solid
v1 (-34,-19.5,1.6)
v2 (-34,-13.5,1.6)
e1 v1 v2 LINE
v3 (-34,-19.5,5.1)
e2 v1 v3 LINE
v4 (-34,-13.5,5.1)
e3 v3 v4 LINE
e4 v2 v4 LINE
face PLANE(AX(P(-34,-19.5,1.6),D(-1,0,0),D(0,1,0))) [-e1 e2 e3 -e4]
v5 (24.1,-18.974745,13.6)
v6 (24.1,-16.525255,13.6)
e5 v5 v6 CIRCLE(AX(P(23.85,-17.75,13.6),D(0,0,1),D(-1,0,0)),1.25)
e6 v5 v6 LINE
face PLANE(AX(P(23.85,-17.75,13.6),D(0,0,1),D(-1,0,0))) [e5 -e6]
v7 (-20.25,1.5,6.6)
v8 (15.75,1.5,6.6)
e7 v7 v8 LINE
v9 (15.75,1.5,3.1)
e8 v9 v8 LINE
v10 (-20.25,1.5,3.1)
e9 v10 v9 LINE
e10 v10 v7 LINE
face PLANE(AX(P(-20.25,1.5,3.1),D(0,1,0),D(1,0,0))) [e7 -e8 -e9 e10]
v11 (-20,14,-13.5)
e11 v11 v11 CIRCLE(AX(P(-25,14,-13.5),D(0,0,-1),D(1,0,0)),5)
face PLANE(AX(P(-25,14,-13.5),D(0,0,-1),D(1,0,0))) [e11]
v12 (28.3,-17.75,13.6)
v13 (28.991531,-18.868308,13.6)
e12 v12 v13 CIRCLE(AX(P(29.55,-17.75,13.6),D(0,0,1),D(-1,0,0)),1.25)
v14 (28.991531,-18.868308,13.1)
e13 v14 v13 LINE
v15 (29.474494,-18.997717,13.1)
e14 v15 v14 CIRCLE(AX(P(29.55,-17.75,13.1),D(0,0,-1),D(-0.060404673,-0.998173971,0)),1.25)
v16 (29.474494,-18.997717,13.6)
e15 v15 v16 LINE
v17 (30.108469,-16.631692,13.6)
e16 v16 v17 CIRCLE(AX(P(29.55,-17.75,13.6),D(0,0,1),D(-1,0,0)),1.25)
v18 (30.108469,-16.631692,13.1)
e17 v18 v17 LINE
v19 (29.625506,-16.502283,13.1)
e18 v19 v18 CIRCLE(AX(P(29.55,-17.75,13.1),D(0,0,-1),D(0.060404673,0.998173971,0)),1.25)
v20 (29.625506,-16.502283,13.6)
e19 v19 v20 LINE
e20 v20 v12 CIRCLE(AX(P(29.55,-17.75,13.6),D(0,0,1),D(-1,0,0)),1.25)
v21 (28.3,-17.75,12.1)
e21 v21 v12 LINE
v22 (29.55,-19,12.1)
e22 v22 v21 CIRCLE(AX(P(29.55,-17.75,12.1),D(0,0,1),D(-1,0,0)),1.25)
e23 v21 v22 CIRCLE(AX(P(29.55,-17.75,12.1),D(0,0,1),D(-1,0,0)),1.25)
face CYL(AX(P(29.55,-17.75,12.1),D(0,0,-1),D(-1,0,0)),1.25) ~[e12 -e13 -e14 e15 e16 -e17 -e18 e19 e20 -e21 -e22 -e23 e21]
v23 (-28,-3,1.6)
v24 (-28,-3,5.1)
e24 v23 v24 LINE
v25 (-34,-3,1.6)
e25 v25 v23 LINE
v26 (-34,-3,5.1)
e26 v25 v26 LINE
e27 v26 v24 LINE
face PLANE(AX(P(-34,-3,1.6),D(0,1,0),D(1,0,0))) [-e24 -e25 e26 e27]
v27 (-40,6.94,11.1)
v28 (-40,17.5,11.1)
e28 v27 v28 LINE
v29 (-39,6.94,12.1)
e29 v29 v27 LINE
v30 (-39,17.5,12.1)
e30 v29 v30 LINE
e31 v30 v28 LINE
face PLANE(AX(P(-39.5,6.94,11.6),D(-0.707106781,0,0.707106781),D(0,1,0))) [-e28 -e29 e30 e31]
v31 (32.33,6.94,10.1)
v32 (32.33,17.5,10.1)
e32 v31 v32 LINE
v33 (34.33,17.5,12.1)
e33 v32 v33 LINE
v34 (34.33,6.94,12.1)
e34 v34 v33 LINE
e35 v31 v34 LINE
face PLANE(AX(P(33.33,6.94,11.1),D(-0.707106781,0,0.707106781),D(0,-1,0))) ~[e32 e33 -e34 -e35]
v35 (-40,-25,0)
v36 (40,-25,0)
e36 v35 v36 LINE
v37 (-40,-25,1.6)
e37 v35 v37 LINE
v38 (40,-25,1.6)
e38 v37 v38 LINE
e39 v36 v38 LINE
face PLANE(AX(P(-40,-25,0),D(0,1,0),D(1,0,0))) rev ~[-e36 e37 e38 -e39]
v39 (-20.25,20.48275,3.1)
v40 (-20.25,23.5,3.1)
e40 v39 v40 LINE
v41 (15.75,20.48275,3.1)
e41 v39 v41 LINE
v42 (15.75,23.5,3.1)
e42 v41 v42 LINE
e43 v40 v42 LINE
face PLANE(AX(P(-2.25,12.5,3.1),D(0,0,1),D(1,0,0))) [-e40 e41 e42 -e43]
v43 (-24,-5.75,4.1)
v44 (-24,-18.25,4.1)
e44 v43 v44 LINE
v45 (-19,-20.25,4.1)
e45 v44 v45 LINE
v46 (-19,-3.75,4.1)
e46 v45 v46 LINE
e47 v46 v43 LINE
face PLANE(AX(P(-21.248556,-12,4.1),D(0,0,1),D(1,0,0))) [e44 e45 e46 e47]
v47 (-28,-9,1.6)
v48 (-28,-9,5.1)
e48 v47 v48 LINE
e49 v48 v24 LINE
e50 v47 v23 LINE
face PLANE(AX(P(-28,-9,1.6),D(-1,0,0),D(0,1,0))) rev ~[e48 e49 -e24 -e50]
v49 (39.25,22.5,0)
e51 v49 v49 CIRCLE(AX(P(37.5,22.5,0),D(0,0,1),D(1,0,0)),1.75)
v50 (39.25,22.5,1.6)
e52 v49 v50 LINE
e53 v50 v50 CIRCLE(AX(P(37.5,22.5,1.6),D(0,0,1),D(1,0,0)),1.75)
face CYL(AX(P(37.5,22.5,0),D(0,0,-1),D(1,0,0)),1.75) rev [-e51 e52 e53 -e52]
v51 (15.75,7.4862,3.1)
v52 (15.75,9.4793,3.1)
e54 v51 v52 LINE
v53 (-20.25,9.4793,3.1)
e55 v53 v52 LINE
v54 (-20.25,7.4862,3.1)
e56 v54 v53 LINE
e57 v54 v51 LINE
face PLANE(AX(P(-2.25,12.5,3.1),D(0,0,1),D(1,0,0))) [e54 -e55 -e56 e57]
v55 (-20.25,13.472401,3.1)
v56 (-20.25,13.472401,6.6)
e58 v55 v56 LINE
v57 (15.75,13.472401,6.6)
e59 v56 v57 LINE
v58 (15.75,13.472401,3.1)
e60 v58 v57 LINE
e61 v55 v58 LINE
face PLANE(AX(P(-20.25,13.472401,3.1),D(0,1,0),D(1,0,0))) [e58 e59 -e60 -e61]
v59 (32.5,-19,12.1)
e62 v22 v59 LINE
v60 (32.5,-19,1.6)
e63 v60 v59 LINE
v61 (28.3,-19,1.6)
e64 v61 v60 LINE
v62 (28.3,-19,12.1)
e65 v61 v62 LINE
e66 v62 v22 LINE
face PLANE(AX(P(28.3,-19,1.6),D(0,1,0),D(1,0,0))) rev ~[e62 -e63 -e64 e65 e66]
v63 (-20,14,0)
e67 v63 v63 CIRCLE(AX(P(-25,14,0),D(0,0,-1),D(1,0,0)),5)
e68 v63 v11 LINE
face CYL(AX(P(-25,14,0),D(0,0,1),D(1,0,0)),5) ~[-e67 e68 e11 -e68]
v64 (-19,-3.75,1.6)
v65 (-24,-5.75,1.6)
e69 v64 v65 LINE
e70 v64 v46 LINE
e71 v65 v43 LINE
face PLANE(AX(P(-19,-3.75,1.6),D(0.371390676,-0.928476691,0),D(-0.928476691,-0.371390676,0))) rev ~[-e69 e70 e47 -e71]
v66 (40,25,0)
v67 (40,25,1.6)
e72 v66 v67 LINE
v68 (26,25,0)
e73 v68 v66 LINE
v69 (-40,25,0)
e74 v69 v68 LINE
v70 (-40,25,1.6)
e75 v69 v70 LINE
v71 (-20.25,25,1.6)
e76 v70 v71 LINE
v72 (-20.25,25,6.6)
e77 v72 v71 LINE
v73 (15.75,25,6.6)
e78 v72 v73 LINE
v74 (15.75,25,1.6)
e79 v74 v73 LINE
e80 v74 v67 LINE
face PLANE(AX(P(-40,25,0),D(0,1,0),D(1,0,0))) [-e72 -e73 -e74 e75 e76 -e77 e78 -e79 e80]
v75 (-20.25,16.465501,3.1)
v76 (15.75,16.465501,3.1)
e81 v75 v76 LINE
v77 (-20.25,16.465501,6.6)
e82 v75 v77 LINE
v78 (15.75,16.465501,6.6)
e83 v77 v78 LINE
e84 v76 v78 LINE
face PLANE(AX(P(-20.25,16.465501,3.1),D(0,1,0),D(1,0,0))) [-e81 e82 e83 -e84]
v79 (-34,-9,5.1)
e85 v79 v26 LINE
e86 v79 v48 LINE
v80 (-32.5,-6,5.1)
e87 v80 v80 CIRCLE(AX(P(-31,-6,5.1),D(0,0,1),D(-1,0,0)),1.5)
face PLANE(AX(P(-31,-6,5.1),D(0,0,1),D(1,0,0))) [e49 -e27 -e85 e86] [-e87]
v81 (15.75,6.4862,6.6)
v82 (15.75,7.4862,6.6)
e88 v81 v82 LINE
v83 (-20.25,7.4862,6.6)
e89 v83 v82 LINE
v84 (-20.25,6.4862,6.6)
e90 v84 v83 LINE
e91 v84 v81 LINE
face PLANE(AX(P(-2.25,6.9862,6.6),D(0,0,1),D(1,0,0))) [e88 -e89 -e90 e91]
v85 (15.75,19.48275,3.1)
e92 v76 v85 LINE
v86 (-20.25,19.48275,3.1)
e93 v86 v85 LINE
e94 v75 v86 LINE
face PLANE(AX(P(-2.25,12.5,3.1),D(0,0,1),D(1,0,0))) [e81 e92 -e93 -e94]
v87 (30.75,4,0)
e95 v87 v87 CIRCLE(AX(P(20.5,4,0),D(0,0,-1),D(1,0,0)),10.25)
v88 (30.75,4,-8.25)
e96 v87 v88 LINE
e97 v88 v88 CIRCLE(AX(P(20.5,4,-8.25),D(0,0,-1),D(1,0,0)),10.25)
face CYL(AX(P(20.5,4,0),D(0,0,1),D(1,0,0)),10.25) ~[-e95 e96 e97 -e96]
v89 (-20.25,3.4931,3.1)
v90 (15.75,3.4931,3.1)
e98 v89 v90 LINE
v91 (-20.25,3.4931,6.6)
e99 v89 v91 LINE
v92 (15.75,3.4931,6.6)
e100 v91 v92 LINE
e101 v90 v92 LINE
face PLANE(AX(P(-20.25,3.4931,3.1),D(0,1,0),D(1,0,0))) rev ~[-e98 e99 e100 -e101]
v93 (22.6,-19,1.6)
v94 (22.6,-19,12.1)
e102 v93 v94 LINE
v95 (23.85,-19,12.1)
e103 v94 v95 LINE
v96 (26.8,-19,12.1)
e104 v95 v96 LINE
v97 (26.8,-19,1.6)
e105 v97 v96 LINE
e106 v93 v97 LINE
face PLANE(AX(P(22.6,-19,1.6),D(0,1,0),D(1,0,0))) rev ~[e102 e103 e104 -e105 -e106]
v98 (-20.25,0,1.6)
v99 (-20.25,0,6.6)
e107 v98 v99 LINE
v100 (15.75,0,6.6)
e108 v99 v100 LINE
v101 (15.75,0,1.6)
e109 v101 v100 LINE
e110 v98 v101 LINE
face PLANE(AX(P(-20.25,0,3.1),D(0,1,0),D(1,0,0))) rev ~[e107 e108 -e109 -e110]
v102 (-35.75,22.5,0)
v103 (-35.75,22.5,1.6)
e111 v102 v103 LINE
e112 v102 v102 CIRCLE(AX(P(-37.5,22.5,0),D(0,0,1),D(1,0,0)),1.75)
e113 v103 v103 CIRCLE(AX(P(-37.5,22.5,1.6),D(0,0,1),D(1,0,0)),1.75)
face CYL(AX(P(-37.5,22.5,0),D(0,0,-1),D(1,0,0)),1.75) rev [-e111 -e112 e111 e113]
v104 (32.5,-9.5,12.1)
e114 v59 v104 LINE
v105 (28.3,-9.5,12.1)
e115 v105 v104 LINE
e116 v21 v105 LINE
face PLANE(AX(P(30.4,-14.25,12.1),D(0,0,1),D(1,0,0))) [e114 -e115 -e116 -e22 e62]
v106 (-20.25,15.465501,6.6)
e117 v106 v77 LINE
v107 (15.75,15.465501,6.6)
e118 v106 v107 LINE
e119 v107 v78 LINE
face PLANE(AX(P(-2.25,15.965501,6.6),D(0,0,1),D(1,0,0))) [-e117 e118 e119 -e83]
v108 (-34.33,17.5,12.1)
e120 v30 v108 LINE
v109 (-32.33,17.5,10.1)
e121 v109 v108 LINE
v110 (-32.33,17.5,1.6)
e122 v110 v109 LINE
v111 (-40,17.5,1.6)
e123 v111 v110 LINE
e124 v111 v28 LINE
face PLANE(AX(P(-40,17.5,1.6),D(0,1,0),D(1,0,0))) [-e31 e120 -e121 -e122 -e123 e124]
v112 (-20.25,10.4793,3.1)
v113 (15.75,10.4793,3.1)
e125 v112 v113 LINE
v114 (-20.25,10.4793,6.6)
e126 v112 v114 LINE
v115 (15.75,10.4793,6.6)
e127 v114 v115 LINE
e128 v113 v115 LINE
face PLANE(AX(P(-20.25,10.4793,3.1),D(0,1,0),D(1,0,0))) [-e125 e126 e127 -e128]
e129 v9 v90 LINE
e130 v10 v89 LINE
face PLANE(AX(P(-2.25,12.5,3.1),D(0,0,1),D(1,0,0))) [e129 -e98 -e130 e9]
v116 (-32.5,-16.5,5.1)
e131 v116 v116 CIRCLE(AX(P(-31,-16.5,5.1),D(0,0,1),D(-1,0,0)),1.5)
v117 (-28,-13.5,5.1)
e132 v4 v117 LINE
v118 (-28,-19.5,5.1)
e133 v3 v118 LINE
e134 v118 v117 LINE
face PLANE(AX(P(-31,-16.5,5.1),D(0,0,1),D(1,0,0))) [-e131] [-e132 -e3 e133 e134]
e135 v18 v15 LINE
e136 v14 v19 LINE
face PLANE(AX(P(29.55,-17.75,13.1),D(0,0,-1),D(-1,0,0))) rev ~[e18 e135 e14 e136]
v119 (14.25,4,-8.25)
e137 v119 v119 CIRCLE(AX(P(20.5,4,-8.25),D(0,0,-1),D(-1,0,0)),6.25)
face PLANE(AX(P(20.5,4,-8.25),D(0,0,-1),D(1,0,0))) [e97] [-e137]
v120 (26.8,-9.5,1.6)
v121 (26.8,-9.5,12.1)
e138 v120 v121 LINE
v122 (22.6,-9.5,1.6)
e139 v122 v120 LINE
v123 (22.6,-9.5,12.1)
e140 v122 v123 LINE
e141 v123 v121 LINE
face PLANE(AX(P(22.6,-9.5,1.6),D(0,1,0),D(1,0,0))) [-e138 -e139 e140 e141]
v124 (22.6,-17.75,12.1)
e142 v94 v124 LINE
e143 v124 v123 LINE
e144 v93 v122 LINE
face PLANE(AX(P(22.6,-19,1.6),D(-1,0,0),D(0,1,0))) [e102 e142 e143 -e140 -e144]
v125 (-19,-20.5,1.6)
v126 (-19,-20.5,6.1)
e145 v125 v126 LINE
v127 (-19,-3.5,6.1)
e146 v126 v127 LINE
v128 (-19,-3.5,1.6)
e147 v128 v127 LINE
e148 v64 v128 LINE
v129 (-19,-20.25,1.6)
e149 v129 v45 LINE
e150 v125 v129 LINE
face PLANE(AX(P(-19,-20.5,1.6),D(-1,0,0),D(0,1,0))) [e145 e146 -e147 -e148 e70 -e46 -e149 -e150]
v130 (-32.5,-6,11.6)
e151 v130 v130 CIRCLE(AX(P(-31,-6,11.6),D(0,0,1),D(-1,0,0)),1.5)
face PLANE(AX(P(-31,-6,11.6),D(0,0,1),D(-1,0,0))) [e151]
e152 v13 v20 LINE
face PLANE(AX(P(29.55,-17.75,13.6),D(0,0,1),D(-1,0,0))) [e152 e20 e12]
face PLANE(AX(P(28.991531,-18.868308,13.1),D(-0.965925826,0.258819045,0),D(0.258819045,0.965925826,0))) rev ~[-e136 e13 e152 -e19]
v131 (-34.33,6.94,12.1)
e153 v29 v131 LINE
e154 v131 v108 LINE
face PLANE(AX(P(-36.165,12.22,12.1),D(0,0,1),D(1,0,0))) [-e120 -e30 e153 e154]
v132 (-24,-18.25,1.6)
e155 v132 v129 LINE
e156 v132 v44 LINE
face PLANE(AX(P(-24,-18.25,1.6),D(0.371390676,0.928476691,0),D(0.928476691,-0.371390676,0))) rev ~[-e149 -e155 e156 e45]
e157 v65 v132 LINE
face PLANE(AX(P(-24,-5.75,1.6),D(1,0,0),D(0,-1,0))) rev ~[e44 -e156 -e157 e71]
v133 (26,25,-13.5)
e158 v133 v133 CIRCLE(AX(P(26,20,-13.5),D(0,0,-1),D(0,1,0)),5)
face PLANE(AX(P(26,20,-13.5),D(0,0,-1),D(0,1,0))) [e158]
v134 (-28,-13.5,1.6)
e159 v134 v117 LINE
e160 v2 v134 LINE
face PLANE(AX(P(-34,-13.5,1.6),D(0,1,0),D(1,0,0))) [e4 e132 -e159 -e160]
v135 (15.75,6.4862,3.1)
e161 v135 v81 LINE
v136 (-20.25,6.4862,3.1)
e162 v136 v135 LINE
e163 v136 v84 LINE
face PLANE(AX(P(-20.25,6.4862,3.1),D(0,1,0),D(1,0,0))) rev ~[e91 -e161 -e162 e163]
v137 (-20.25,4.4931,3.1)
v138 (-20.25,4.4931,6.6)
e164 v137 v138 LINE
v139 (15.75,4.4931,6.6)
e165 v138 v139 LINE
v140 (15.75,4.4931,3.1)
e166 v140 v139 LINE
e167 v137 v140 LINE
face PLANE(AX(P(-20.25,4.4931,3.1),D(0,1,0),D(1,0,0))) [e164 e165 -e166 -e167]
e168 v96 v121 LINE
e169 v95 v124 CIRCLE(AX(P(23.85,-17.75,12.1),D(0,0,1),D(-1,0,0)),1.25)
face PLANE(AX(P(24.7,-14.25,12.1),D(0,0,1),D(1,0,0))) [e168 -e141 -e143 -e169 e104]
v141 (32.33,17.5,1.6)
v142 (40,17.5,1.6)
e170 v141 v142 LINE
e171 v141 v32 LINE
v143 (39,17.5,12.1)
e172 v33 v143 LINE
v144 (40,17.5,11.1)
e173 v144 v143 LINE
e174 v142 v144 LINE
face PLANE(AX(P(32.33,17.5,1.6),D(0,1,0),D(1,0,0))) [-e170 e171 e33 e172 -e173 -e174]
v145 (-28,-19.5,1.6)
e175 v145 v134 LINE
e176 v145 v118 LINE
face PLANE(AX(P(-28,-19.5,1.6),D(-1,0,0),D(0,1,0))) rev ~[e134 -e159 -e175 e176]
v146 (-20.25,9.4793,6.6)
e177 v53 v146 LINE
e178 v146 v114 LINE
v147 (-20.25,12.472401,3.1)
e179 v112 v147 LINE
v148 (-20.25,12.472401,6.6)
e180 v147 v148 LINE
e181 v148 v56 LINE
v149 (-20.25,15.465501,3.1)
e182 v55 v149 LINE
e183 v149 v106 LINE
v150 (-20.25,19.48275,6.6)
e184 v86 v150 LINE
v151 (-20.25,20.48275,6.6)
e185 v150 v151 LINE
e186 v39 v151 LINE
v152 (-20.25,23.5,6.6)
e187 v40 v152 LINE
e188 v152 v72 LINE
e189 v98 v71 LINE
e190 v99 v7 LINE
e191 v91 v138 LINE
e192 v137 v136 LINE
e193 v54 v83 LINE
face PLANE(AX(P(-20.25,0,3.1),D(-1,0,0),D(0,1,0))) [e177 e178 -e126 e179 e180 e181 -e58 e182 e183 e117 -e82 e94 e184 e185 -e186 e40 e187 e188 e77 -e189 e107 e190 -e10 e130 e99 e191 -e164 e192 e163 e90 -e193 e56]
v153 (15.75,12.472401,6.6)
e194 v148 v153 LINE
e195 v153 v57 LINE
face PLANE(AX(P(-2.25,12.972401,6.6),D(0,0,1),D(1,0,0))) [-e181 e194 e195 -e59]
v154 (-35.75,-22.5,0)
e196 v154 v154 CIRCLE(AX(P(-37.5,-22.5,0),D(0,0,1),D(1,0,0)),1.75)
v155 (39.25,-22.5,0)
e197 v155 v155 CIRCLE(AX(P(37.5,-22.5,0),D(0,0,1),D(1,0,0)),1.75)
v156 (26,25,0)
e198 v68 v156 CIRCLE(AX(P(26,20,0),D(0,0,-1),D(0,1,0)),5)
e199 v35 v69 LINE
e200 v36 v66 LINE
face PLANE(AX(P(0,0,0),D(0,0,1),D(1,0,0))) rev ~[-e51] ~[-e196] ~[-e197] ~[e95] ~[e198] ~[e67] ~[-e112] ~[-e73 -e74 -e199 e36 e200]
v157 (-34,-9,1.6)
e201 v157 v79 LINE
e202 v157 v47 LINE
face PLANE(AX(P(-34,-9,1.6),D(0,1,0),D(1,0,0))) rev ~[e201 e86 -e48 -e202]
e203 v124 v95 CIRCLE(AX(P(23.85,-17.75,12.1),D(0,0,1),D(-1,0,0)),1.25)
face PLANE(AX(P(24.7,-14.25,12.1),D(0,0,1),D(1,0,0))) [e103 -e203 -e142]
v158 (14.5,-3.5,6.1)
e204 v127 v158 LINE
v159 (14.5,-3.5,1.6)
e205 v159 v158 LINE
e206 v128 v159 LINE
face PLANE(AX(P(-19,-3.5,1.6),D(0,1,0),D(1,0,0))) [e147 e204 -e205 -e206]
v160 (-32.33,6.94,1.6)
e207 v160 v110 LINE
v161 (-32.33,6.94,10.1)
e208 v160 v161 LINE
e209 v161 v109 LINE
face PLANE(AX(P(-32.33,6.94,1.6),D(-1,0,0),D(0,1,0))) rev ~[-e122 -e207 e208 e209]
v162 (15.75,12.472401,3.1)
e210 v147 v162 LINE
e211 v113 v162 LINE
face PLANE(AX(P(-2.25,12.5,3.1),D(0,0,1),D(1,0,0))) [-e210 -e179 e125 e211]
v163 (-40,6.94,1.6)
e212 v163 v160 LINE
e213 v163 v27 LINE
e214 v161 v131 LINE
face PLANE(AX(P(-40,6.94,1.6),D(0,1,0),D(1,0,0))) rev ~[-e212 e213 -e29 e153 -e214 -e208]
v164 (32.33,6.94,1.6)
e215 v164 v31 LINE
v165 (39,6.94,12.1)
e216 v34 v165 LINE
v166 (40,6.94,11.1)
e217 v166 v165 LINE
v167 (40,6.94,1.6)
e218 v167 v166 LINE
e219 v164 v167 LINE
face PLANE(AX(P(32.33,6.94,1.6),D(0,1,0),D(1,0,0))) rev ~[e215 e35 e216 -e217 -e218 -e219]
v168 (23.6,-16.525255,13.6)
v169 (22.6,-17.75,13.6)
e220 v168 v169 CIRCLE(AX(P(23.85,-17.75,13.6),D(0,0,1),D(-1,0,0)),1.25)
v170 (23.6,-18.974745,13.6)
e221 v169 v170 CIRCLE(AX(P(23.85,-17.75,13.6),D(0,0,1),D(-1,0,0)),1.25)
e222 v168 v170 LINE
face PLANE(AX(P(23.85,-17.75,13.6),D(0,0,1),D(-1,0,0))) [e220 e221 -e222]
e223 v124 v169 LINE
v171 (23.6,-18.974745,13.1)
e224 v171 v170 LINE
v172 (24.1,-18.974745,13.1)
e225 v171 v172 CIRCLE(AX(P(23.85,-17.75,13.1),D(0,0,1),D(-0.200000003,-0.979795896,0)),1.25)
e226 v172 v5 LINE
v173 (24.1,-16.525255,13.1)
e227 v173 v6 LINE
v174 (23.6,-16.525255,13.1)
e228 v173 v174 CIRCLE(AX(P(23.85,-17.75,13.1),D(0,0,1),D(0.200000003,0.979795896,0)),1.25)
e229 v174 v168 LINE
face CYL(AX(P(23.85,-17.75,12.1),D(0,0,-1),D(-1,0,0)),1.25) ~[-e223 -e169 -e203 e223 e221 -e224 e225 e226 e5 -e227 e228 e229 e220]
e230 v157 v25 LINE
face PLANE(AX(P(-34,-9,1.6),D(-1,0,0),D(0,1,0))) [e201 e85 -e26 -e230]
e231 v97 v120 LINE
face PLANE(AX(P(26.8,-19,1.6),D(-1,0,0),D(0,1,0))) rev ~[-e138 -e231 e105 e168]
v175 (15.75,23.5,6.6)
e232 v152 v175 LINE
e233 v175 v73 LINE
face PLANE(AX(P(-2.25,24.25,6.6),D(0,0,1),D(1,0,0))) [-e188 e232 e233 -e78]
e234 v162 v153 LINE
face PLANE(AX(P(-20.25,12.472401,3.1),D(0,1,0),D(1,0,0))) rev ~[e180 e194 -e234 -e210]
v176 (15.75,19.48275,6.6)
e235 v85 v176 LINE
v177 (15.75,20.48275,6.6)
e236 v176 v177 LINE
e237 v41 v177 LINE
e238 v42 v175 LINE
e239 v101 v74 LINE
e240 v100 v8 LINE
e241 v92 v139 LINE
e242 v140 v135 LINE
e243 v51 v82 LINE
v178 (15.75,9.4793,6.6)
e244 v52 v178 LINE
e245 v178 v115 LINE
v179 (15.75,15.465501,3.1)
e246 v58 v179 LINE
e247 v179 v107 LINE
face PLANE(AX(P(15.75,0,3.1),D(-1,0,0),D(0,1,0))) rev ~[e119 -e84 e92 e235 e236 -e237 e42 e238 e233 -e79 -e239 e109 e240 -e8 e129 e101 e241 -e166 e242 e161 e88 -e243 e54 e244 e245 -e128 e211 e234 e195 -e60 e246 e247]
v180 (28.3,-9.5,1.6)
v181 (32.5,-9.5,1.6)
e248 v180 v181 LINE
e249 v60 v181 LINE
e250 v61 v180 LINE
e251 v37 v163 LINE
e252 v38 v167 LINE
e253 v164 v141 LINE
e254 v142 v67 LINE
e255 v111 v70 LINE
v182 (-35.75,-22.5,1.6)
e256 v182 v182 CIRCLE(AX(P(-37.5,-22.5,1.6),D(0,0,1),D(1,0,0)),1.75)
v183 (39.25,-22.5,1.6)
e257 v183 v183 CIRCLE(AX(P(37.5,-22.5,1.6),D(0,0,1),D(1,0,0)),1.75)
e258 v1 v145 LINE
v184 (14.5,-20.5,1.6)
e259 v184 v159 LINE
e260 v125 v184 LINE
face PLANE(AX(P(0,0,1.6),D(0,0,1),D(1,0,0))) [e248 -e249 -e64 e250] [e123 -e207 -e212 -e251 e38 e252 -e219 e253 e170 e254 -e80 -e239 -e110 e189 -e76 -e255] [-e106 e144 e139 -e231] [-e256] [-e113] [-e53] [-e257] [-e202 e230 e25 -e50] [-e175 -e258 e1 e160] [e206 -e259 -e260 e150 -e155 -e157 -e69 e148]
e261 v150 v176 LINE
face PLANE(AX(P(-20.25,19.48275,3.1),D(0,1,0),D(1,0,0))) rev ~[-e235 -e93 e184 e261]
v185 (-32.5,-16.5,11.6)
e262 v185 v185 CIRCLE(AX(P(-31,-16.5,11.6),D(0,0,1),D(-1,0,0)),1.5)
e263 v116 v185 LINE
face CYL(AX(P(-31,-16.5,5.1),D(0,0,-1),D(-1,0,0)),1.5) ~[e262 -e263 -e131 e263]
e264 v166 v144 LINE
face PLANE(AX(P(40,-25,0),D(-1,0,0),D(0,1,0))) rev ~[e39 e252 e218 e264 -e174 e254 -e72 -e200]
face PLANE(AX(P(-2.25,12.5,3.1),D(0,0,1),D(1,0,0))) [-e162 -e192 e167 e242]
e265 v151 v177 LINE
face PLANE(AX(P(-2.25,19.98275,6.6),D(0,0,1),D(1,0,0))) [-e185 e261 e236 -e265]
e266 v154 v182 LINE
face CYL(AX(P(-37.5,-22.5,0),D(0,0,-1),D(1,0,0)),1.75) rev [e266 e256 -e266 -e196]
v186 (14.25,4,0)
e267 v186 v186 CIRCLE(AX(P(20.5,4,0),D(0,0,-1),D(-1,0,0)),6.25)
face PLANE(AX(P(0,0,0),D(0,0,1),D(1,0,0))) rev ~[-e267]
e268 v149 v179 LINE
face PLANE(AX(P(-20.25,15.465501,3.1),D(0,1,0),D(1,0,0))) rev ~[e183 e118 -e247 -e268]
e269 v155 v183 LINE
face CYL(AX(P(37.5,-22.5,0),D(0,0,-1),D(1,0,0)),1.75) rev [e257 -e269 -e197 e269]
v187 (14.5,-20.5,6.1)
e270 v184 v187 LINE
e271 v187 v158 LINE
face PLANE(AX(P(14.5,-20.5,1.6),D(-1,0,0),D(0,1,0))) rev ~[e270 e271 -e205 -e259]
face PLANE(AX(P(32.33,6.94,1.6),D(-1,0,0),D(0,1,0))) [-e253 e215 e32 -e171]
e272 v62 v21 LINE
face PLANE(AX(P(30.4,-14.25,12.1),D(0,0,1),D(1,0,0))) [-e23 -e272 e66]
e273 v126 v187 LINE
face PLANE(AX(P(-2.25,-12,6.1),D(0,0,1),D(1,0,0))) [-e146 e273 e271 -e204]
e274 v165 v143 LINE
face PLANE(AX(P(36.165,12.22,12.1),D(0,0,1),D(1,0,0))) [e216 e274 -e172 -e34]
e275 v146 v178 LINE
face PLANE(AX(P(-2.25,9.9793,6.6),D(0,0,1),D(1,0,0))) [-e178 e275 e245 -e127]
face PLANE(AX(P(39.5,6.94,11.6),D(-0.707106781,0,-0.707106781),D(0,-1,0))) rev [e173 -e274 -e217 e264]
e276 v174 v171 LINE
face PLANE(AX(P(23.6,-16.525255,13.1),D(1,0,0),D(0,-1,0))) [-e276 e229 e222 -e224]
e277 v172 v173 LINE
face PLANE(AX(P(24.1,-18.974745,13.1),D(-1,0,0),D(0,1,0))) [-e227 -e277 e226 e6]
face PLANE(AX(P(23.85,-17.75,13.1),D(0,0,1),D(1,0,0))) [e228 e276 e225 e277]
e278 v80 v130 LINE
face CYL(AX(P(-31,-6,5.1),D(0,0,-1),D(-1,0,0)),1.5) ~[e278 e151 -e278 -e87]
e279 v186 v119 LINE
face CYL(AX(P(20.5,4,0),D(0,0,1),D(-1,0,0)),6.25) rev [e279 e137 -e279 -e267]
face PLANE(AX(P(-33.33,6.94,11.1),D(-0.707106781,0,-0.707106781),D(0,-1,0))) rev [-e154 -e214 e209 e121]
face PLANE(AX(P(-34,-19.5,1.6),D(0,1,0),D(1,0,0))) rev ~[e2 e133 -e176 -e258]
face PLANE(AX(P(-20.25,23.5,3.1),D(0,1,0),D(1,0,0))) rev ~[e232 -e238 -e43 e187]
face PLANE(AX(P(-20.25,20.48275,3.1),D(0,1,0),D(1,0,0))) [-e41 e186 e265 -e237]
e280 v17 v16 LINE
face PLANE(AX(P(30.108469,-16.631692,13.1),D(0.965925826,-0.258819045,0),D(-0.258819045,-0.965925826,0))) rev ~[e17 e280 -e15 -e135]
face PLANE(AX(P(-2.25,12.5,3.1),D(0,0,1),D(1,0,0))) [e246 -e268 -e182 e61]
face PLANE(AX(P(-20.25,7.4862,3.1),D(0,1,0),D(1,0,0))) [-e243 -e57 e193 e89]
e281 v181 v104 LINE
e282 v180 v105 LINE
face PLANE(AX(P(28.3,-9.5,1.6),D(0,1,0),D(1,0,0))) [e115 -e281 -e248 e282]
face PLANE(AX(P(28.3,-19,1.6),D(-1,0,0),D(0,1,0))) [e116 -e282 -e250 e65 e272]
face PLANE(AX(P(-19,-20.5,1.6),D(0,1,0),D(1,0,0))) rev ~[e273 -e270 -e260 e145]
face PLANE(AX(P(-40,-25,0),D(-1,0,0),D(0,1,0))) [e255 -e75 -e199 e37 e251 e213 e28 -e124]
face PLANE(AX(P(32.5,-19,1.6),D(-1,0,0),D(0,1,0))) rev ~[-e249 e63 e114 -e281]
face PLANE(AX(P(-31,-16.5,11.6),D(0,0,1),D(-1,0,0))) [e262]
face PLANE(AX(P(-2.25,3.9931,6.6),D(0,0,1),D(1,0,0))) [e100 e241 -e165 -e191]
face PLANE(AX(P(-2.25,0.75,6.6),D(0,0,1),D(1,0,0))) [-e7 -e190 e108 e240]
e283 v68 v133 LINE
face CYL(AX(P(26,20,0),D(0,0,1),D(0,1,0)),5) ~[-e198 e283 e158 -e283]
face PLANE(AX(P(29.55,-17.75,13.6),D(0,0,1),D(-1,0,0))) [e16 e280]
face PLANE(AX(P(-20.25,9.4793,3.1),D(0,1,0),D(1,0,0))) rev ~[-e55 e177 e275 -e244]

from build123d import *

# Parameters (mm, degrees)
SKETCH1_W            = 80
SKETCH1_H            = 50
SKETCH1_R            = 1.75
BOSS_EXTRUDE1_DEPTH  = 1.6
SKETCH2_W            = 4.2
SKETCH2_H            = 9.5
SKETCH2_W_2          = 7.67
SKETCH2_H_2          = 10.56
BOSS_EXTRUDE2_DEPTH  = 10.5
CHAMFER1_SIZE        = 2
CHAMFER2_SIZE        = 1
SKETCH3_R            = 1.25
BOSS_EXTRUDE3_DEPTH  = 1.5
CUT_EXTRUDE1_START   = -0.5
CUT_EXTRUDE1_DEPTH   = 0.5
SKETCH5_W            = 33.5
SKETCH5_H            = 17
BOSS_EXTRUDE4_DEPTH  = 4.5
BOSS_EXTRUDE5_DEPTH  = 2.5
SKETCH7_W            = 6
SKETCH7_H            = 6
BOSS_EXTRUDE6_DEPTH  = 3.5
SKETCH8_R            = 1.5
BOSS_EXTRUDE7_DEPTH  = 6.5
SKETCH9_W            = 36
SKETCH9_H            = 25
BOSS_EXTRUDE8_DEPTH  = 1.5
SKETCH10_W           = 36
SKETCH10_H           = 1.5
SKETCH10_H_2         = 1
BOSS_EXTRUDE9_DEPTH  = 3.5
SKETCH11_R           = 5
BOSS_EXTRUDE10_DEPTH = 13.5
SKETCH12_R           = 10.25
SKETCH12_R_2         = 6.25
BOSS_EXTRUDE11_DEPTH = 8.25


with BuildPart() as part:
    # Sketch1 → Boss-Extrude1 (new body)
    with BuildSketch(Plane.XY):
        Rectangle(SKETCH1_W, SKETCH1_H)
        with Locations((-37.5, 22.5)):
            Circle(SKETCH1_R, mode=Mode.SUBTRACT)
        with Locations((-37.5, -22.5)):
            Circle(SKETCH1_R, mode=Mode.SUBTRACT)
        with Locations((37.5, -22.5)):
            Circle(SKETCH1_R, mode=Mode.SUBTRACT)
        with Locations((37.5, 22.5)):
            Circle(SKETCH1_R, mode=Mode.SUBTRACT)
    extrude(amount=BOSS_EXTRUDE1_DEPTH)

    # Sketch2 → Boss-Extrude2 (add)
    with BuildSketch(Plane.XY.offset(1.6)):
        with Locations((24.7, -14.25)):
            Rectangle(SKETCH2_W, SKETCH2_H)
        with Locations((30.4, -14.25)):
            Rectangle(SKETCH2_W, SKETCH2_H)
        with Locations((36.165, 12.22)):
            Rectangle(SKETCH2_W_2, SKETCH2_H_2)
        with Locations((-36.165, 12.22)):
            Rectangle(SKETCH2_W_2, SKETCH2_H_2)
    extrude(amount=BOSS_EXTRUDE2_DEPTH)

    # Chamfer1
    chamfer1_edges = [part.edges().sort_by_distance(p)[0] for p in [
        (32.33, 12.22, 12.1),
        (-32.33, 12.22, 12.1),
    ]]
    chamfer(chamfer1_edges, length=CHAMFER1_SIZE)

    # Chamfer2
    chamfer2_edges = [part.edges().sort_by_distance(p)[0] for p in [
        (40, 12.22, 12.1),
        (-40, 12.22, 12.1),
    ]]
    chamfer(chamfer2_edges, length=CHAMFER2_SIZE)

    # Sketch3 → Boss-Extrude3 (add)
    with BuildSketch(Plane.XY.offset(12.1)):
        with Locations(Location((23.85, -17.75, 0), (0, 0, 180))):
            Circle(SKETCH3_R)
        with Locations(Location((29.55, -17.75, 0), (0, 0, 180))):
            Circle(SKETCH3_R)
    extrude(amount=BOSS_EXTRUDE3_DEPTH)

    # Sketch4 → Cut-Extrude1 (cut)
    with BuildSketch(Plane.XY.offset(13.6).offset(CUT_EXTRUDE1_START)):
        with BuildLine():
            Line((23.6, -16.525255129), (23.6, -18.974744871))
            ThreePointArc((23.6, -18.974744871), (23.85, -19), (24.1, -18.974744871))
            Line((24.1, -18.974744871), (24.1, -16.525255129))
            ThreePointArc((24.1, -16.525255129), (23.85, -16.5), (23.6, -16.525255129))
        make_face()
        with BuildLine():
            Line((28.991531245, -18.868307941), (29.625505842, -16.502282537))
            ThreePointArc((29.625505842, -16.502282537), (29.873523806, -16.542592717), (30.108468755, -16.631692059))
            Line((30.108468755, -16.631692059), (29.474494158, -18.997717463))
            ThreePointArc((29.474494158, -18.997717463), (29.226476194, -18.957407283), (28.991531245, -18.868307941))
        make_face()
    extrude(amount=CUT_EXTRUDE1_DEPTH, mode=Mode.SUBTRACT)

    # Sketch5 → Boss-Extrude4 (add)
    with BuildSketch(Plane.XY.offset(1.6)):
        with Locations((-2.25, -12)):
            Rectangle(SKETCH5_W, SKETCH5_H)
    extrude(amount=BOSS_EXTRUDE4_DEPTH)

    # Sketch6 → Boss-Extrude5 (add)
    with BuildSketch(Plane.XY.offset(1.6)):
        Polygon((-24, -18.25), (-19, -20.25), (-19, -3.75), (-24, -5.75), align=None)
    extrude(amount=BOSS_EXTRUDE5_DEPTH)

    # Sketch7 → Boss-Extrude6 (add)
    with BuildSketch(Plane.XY.offset(1.6)):
        with Locations((-31, -16.5)):
            Rectangle(SKETCH7_W, SKETCH7_H)
        with Locations((-31, -6)):
            Rectangle(SKETCH7_W, SKETCH7_H)
    extrude(amount=BOSS_EXTRUDE6_DEPTH)

    # Sketch8 → Boss-Extrude7 (add)
    with BuildSketch(Plane.XY.offset(5.1)):
        with Locations(Location((-31, -6, 0), (0, 0, 180))):
            Circle(SKETCH8_R)
        with Locations(Location((-31, -16.5, 0), (0, 0, 180))):
            Circle(SKETCH8_R)
    extrude(amount=BOSS_EXTRUDE7_DEPTH)

    # Sketch9 → Boss-Extrude8 (add)
    with BuildSketch(Plane.XY.offset(1.6)):
        with Locations((-2.25, 12.5)):
            Rectangle(SKETCH9_W, SKETCH9_H)
    extrude(amount=BOSS_EXTRUDE8_DEPTH)

    # Sketch10 → Boss-Extrude9 (add)
    with BuildSketch(Plane.XY.offset(3.1)):
        with Locations((-2.25, 0.75)):
            Rectangle(SKETCH10_W, SKETCH10_H)
        with Locations((-2.25, 24.25)):
            Rectangle(SKETCH10_W, SKETCH10_H)
        with Locations((-2.25, 3.993100162)):
            Rectangle(SKETCH10_W, SKETCH10_H_2)
        with Locations((-2.25, 6.986200324)):
            Rectangle(SKETCH10_W, SKETCH10_H_2)
        with Locations((-2.25, 9.979300486)):
            Rectangle(SKETCH10_W, SKETCH10_H_2)
        with Locations((-2.25, 12.972400648)):
            Rectangle(SKETCH10_W, SKETCH10_H_2)
        with Locations((-2.25, 15.96550081)):
            Rectangle(SKETCH10_W, SKETCH10_H_2)
        with Locations((-2.25, 19.982750405)):
            Rectangle(SKETCH10_W, SKETCH10_H_2)
    extrude(amount=BOSS_EXTRUDE9_DEPTH)

    # Sketch11 → Boss-Extrude10 (add)
    with BuildSketch(Plane(origin=(0, 0, 0), x_dir=(-1, 0, 0), z_dir=(0, 0, -1))):
        with Locations(Location((-26, 20, 0), (0, 0, 90))):
            Circle(SKETCH11_R)
        with Locations(Location((25, 14, 0), (0, 0, 180))):
            Circle(SKETCH11_R)
    extrude(amount=BOSS_EXTRUDE10_DEPTH)

    # Sketch12 → Boss-Extrude11 (add)
    with BuildSketch(Plane(origin=(0, 0, 0), x_dir=(-1, 0, 0), z_dir=(0, 0, -1))):
        with Locations(Location((-20.5, 4, 0), (0, 0, 180))):
            Circle(SKETCH12_R)
        with Locations((-20.5, 4)):
            Circle(SKETCH12_R_2, mode=Mode.SUBTRACT)
    extrude(amount=BOSS_EXTRUDE11_DEPTH)


solid = part.part
